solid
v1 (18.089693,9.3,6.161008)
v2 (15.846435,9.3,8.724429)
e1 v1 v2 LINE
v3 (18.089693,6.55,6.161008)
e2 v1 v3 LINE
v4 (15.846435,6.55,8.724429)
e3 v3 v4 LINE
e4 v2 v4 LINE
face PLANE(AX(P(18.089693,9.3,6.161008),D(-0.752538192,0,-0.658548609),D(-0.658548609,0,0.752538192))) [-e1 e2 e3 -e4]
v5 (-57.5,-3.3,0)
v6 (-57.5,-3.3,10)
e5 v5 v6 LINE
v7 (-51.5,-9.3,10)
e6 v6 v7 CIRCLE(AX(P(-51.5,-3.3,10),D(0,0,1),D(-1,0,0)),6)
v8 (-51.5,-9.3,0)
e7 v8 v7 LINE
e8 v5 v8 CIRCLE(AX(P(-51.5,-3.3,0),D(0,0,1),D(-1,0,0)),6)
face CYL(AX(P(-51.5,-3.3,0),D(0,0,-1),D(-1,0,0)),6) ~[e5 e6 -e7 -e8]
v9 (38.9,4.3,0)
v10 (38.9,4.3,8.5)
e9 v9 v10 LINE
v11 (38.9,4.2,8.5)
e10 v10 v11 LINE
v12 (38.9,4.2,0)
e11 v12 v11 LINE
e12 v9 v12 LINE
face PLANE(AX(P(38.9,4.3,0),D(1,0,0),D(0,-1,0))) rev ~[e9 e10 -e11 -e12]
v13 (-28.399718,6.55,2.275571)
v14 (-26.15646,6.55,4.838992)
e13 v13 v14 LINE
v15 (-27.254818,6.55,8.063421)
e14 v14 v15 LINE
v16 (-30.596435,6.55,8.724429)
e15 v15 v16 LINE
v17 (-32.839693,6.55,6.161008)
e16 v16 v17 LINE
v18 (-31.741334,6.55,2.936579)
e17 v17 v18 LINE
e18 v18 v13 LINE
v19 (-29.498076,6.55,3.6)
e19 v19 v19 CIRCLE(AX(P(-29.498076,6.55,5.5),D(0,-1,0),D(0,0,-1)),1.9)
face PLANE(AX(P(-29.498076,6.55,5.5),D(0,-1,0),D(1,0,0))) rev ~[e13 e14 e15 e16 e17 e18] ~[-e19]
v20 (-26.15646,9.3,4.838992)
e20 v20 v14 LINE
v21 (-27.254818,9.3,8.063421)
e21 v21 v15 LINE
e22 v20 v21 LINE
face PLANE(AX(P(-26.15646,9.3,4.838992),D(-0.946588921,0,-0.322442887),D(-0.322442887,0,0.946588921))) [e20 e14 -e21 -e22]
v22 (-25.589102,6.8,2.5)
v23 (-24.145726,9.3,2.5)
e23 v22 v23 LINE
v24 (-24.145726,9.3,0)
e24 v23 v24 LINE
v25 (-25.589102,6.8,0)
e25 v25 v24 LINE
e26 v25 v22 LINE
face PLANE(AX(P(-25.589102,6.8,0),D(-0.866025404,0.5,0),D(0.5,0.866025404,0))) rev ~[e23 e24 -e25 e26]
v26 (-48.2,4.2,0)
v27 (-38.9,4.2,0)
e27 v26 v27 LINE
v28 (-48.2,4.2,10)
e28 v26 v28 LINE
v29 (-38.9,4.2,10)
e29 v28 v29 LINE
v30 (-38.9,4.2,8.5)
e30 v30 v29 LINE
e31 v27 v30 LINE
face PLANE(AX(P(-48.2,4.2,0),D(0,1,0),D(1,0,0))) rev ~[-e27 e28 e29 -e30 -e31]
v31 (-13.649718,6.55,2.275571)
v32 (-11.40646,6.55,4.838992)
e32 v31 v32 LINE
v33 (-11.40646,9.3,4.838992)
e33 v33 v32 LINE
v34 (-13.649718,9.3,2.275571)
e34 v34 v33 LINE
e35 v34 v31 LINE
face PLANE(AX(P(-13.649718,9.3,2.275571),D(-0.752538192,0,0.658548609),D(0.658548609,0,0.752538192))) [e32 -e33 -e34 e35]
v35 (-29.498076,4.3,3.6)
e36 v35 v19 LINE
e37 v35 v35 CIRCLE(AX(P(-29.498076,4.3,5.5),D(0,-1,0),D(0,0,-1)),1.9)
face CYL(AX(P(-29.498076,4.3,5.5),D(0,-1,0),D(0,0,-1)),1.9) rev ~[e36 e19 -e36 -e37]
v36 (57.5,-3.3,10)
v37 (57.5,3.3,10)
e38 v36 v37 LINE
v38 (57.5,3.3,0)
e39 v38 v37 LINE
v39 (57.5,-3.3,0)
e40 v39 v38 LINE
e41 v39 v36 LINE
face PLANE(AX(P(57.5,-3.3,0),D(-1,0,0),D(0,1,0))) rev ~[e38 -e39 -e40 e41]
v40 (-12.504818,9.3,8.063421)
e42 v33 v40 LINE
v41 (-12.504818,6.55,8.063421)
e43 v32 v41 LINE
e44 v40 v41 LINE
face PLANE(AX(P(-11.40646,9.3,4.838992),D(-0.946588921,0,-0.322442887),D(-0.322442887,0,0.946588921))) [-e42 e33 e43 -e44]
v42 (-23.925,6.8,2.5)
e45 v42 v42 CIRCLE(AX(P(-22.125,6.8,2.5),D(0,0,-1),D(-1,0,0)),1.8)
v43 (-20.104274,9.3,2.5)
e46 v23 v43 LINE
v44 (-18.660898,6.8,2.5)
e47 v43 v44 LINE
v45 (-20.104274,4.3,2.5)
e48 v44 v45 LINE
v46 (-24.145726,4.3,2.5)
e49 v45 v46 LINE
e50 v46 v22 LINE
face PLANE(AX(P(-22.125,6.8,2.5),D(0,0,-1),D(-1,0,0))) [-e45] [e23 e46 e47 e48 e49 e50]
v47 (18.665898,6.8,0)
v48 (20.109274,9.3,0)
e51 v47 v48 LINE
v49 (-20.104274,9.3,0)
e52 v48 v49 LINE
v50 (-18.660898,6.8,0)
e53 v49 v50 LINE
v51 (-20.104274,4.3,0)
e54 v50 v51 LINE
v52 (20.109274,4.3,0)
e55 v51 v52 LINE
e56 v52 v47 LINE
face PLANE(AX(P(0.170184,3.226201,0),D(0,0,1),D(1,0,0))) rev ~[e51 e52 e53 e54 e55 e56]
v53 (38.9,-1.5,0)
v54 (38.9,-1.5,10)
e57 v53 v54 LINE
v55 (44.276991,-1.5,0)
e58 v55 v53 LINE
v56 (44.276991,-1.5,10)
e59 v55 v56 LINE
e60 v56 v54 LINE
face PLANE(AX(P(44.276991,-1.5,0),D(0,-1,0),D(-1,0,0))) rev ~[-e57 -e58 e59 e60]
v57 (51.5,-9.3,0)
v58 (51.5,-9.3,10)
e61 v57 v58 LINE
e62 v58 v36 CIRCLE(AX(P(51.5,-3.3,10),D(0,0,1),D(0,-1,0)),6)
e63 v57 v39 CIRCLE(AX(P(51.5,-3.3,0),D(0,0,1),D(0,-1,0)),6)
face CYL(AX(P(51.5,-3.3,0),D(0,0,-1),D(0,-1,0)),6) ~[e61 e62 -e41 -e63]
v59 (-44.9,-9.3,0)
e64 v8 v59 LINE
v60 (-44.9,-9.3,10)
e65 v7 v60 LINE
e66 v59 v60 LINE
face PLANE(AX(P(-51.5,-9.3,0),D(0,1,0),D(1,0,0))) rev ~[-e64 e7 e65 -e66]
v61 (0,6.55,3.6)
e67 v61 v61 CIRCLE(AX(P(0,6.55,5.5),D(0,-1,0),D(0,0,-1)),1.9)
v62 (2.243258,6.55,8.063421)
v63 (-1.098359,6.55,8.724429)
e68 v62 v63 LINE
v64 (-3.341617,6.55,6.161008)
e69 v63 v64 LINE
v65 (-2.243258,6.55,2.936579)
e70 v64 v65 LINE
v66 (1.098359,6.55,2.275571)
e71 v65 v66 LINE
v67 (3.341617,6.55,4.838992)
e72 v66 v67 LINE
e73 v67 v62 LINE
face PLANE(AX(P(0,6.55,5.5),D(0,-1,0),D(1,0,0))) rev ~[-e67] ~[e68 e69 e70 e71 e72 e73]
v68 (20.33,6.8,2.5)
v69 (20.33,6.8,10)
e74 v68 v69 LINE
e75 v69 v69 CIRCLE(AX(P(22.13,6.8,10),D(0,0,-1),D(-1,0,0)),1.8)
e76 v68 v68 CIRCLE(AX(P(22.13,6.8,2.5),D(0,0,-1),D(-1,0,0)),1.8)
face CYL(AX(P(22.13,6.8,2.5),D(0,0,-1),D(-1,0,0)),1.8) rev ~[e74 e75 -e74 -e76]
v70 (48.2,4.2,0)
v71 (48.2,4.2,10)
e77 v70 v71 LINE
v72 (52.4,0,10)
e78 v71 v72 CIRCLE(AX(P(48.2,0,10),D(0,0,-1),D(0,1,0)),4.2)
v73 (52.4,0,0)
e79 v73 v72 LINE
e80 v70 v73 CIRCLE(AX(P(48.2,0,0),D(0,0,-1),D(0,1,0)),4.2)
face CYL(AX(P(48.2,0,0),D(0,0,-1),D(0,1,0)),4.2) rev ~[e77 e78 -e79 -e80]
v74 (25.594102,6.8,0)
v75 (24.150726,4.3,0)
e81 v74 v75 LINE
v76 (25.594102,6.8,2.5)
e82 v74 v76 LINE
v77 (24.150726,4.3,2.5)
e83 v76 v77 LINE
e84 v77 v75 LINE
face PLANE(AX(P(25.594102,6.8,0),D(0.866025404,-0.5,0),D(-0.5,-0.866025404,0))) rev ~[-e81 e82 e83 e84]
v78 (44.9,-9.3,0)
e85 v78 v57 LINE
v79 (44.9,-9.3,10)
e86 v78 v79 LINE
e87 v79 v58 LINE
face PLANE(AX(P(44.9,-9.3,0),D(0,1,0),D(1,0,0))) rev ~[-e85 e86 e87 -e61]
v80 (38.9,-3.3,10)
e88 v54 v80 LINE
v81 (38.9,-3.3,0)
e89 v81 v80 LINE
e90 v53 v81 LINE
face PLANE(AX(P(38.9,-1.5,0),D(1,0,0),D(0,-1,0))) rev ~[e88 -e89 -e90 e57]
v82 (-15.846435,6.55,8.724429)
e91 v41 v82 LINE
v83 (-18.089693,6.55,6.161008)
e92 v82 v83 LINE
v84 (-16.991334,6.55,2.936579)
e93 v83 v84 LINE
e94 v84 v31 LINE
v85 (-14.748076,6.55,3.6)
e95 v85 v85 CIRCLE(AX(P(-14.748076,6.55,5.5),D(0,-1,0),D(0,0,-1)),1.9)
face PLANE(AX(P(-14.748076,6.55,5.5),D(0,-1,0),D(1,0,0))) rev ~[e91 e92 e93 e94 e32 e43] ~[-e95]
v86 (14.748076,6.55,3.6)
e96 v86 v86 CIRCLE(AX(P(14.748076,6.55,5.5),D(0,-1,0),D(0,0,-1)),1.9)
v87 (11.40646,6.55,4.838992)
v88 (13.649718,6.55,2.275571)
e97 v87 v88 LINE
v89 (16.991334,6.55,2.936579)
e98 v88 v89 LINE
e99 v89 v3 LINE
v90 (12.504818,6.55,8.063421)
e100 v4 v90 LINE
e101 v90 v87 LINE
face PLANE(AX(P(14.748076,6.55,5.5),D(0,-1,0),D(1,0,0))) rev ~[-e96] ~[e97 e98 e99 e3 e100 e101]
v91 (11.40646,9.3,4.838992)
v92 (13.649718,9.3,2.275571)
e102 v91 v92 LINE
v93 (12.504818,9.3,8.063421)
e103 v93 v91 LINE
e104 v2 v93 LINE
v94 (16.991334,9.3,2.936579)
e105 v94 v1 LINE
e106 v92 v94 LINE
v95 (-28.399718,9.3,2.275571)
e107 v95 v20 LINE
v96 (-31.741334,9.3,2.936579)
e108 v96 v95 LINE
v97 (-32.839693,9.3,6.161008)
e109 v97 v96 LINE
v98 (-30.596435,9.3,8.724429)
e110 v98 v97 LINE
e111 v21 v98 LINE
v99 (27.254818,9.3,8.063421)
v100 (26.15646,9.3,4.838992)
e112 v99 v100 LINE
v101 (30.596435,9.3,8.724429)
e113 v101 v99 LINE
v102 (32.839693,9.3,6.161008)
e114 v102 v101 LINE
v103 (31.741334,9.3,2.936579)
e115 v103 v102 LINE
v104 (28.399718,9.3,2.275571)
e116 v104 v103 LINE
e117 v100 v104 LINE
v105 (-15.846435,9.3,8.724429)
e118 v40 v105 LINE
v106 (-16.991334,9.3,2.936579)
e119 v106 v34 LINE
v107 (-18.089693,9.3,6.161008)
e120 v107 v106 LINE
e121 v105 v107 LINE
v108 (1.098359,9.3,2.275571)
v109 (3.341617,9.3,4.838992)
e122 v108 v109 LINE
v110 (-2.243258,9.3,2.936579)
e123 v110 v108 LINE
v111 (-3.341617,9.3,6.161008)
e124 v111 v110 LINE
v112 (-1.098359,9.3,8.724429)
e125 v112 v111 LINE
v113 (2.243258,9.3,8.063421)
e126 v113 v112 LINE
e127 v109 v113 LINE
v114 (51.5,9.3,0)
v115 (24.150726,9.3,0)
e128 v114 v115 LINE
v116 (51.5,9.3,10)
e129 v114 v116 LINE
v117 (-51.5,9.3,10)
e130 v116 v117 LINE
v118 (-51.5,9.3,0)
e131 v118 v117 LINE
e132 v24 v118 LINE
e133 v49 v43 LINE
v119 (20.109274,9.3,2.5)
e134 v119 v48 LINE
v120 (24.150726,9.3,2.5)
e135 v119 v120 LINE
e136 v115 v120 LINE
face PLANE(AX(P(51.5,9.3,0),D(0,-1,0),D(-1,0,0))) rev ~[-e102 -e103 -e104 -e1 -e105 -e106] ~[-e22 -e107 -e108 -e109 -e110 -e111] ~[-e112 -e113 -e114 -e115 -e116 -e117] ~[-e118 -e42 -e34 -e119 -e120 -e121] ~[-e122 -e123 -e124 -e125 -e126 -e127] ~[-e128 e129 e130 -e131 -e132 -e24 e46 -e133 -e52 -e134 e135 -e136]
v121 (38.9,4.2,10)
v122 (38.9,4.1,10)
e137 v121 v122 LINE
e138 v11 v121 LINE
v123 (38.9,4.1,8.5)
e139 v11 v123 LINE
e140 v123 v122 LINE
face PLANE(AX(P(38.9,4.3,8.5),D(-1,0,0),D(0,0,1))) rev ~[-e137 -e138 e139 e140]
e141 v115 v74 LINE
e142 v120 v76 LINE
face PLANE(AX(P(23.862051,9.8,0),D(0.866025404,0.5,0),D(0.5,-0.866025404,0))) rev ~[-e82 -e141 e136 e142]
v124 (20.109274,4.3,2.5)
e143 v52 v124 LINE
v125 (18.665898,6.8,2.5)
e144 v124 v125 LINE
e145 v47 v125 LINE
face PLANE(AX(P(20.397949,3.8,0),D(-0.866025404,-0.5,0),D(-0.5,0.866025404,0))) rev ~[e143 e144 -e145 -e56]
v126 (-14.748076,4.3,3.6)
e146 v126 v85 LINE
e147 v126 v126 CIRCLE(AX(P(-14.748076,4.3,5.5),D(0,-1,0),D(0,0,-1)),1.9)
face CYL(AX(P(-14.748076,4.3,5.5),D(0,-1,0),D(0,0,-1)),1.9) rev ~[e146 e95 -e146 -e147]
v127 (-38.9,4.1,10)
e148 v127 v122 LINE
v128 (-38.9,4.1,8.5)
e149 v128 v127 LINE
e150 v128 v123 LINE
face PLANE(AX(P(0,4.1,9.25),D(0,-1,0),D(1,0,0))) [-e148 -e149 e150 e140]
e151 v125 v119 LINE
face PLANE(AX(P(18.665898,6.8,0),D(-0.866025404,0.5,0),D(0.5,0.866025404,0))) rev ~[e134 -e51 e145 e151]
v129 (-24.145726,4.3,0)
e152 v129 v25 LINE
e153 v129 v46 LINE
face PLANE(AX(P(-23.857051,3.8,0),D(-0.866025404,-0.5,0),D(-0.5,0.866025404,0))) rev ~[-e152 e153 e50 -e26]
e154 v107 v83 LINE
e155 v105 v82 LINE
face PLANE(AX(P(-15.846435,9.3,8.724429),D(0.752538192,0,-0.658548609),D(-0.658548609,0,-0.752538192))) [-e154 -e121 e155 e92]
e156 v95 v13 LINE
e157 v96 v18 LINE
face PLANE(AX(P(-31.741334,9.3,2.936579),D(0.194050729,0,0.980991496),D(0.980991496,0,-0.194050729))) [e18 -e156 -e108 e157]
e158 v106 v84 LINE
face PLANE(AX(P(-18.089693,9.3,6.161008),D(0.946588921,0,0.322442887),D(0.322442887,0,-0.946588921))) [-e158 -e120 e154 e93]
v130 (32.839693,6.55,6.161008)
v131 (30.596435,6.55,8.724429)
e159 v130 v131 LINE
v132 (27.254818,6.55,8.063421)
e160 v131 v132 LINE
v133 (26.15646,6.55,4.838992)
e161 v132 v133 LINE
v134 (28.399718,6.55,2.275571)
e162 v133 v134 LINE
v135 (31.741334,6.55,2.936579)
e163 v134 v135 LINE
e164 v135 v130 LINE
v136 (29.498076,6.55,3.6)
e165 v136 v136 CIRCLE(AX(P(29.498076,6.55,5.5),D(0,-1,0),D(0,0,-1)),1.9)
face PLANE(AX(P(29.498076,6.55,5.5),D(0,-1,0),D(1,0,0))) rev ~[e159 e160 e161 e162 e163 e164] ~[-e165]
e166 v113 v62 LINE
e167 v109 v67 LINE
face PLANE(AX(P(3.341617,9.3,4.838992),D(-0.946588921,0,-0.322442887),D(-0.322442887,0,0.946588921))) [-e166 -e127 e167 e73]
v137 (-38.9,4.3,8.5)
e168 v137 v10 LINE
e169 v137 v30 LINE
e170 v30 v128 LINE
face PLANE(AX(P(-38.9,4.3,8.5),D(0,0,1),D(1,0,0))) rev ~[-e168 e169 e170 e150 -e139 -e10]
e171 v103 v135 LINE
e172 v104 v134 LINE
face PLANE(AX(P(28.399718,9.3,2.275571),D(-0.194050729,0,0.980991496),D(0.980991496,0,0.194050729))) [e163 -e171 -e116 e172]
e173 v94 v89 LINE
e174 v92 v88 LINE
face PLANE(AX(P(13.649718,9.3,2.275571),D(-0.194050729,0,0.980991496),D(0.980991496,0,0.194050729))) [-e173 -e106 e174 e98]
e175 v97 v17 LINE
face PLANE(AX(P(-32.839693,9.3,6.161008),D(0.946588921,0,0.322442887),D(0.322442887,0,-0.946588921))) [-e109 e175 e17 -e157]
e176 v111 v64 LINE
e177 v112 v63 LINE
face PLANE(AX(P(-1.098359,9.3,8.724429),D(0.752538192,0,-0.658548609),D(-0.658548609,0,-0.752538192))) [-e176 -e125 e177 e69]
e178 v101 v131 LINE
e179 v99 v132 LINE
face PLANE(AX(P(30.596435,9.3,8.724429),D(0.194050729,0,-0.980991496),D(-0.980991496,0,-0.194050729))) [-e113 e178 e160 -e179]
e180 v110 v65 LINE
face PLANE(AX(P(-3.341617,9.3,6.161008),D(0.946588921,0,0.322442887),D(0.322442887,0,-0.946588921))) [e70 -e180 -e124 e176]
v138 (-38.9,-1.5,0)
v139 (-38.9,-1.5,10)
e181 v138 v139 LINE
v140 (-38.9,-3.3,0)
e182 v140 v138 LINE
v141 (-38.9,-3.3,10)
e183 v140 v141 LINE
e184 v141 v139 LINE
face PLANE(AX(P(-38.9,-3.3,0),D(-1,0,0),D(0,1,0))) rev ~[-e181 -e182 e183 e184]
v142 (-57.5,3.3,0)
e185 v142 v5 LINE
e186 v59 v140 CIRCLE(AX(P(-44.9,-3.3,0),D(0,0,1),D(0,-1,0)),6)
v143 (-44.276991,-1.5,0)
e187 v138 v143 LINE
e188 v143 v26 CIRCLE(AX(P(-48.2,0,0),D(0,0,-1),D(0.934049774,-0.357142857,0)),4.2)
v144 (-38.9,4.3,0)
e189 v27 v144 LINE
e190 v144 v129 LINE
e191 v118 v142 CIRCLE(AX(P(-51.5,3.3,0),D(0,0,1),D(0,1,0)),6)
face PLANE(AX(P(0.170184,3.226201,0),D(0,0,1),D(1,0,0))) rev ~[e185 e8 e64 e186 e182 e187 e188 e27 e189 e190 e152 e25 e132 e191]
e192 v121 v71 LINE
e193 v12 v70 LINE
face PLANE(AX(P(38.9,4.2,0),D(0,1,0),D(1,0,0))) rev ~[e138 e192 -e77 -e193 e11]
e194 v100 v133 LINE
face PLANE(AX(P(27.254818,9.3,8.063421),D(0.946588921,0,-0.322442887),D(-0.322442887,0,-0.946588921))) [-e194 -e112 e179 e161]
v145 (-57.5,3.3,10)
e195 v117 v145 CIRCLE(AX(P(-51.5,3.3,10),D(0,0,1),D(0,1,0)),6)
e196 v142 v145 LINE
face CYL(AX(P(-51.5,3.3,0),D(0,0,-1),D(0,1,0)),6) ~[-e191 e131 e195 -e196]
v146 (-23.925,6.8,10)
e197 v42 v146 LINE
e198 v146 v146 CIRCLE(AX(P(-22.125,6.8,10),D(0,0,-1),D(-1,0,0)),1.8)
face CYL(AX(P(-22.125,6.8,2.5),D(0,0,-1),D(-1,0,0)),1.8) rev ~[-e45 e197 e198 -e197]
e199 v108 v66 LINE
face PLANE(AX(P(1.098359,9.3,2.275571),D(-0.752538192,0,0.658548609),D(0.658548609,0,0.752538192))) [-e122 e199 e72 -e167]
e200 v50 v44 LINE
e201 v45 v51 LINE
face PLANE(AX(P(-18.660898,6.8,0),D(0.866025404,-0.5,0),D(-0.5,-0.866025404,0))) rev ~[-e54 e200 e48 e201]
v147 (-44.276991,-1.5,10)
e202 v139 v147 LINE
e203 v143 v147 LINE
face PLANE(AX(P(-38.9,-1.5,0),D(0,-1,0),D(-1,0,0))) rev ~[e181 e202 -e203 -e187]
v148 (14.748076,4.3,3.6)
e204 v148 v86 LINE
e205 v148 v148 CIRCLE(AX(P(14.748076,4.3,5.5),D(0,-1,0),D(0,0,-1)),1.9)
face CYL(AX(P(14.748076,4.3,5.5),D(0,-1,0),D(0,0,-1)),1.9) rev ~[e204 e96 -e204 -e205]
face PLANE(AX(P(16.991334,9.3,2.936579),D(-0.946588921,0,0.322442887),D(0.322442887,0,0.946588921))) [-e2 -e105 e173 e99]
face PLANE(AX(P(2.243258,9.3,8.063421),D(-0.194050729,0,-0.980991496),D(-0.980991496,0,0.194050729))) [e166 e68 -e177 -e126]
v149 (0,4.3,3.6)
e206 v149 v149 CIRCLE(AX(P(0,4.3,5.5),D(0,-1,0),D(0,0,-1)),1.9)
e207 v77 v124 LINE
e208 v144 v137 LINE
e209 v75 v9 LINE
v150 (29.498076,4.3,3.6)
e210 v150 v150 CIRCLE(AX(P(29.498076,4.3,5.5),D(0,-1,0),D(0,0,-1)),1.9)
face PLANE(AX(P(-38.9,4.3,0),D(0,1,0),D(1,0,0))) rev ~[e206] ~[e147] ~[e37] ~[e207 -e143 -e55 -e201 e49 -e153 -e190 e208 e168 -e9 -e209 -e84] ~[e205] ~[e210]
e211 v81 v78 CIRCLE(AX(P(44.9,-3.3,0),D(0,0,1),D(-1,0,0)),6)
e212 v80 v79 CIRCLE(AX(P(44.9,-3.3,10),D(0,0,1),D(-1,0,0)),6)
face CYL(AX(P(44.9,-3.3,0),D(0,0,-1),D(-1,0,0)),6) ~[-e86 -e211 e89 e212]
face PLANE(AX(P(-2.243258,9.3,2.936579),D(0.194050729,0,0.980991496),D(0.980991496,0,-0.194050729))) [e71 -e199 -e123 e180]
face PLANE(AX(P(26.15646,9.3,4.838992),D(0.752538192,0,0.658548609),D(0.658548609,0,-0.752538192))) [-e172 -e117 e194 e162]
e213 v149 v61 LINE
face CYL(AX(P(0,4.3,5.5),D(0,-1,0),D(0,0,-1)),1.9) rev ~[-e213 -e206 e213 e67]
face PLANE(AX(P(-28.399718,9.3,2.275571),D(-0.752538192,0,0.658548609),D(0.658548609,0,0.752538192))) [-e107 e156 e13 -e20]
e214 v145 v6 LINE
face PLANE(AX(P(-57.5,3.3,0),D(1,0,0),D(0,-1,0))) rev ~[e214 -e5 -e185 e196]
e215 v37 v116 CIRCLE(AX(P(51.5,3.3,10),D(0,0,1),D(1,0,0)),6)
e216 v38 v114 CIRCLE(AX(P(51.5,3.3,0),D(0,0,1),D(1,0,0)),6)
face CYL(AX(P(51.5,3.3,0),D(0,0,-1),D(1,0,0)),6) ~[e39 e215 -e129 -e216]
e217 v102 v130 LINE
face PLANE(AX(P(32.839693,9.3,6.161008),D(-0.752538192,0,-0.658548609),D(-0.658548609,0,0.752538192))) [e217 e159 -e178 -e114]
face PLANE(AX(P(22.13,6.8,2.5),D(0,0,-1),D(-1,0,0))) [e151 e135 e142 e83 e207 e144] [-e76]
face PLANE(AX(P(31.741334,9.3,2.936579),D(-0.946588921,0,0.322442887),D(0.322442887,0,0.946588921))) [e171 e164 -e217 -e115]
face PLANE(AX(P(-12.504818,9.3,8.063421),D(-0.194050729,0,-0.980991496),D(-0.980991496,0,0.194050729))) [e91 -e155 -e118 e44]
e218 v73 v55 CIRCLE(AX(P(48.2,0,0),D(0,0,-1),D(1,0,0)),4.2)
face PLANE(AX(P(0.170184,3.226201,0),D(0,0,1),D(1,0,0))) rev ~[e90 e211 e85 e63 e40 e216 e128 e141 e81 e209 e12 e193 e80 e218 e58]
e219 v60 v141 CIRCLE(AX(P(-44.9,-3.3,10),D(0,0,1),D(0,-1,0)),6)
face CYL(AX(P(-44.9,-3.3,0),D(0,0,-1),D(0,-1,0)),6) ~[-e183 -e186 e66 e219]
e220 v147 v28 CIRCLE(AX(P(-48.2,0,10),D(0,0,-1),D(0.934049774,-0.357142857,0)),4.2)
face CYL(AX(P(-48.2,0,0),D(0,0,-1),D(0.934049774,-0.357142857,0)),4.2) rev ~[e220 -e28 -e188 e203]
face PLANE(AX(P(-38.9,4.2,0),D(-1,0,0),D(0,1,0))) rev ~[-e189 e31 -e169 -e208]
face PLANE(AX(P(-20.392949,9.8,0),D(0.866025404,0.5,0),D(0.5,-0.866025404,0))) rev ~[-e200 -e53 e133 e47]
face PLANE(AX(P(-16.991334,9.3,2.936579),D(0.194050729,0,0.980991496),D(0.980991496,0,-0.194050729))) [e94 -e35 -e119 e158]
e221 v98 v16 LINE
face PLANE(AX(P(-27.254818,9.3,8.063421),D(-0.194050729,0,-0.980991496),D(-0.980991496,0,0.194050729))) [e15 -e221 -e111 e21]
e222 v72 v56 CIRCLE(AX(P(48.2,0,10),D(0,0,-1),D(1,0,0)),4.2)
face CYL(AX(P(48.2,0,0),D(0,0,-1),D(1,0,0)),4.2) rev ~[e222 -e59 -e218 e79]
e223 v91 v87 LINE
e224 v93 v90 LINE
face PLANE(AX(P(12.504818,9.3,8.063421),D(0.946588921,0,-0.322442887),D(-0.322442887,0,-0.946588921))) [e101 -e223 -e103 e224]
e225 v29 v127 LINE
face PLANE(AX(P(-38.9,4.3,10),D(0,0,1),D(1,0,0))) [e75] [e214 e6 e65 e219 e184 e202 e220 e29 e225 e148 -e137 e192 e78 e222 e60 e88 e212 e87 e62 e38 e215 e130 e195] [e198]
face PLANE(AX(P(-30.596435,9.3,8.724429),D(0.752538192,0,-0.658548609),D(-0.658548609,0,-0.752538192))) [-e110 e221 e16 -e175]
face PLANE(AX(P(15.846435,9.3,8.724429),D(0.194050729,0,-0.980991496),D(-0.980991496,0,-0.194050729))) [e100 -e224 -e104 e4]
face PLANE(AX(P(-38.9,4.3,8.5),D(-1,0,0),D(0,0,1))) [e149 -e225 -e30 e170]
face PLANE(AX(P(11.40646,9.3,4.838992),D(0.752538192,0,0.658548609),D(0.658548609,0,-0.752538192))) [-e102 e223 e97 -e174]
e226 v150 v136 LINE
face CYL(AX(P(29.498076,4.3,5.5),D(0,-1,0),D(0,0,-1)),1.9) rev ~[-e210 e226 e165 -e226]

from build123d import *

# Parameters (mm, degrees)
SALIENTE_EXTRUIR1_DEPTH = 10
CROQUIS9_R              = 1.9
CORTAR_EXTRUIR5_DEPTH   = 60.926705232
CORTAR_EXTRUIR6_DEPTH   = 2.75
CROQUIS11_W             = 77.8
CROQUIS11_H             = 1.5
SALIENTE_EXTRUIR2_DEPTH = 0.2
CORTAR_EXTRUIR7_DEPTH   = 2.5
CROQUIS13_R             = 1.8
CORTAR_EXTRUIR8_DEPTH   = 59.728102302


with BuildPart() as part:
    # Croquis1 → Saliente-Extruir1 (new body)
    with BuildSketch(Plane.XY):
        with BuildLine():
            Line((51.5, 9.3), (-51.5, 9.3))
            ThreePointArc((-51.5, 9.3), (-55.742640687, 7.542640687), (-57.5, 3.3))
            Line((-57.5, 3.3), (-57.5, -3.3))
            ThreePointArc((-57.5, -3.3), (-55.742640687, -7.542640687), (-51.5, -9.3))
            Line((-51.5, -9.3), (-44.9, -9.3))
            ThreePointArc((-44.9, -9.3), (-40.657359313, -7.542640687), (-38.9, -3.3))
            Line((-38.9, -3.3), (-38.9, -1.5))
            Line((-38.9, -1.5), (-44.276990951, -1.5))
            ThreePointArc((-44.276990951, -1.5), (-51.659768778, -2.38117618), (-48.2, 4.2))
            Line((-48.2, 4.2), (-38.9, 4.2))
            Line((-38.9, 4.2), (-38.9, 4.3))
            Line((-38.9, 4.3), (38.9, 4.3))
            Line((38.9, 4.3), (38.9, 4.2))
            Line((38.9, 4.2), (48.2, 4.2))
            ThreePointArc((48.2, 4.2), (51.169848481, 2.969848481), (52.4, 0))
            ThreePointArc((52.4, 0), (48.96268014, -4.130171789), (44.276990951, -1.5))
            Line((44.276990951, -1.5), (38.9, -1.5))
            Line((38.9, -1.5), (38.9, -3.3))
            ThreePointArc((38.9, -3.3), (40.657359313, -7.542640687), (44.9, -9.3))
            Line((44.9, -9.3), (51.5, -9.3))
            ThreePointArc((51.5, -9.3), (55.742640687, -7.542640687), (57.5, -3.3))
            Line((57.5, -3.3), (57.5, 3.3))
            ThreePointArc((57.5, 3.3), (55.742640687, 7.542640687), (51.5, 9.3))
        make_face()
    extrude(amount=SALIENTE_EXTRUIR1_DEPTH)

    # Croquis9 → Cortar-Extruir5 (cut, through all)
    with BuildSketch(Plane(origin=(0, 4.3, 0), x_dir=(-1, 0, 0), z_dir=(0, -1, 0))):
        with Locations(Location((0, -5.5, 0), (0, 0, 90))):
            Circle(CROQUIS9_R)
        with Locations(Location((-29.498076211, -5.5, 0), (0, 0, 90))):
            Circle(CROQUIS9_R)
        with Locations(Location((-14.748076211, -5.5, 0), (0, 0, 90))):
            Circle(CROQUIS9_R)
        with Locations(Location((14.748076211, -5.5, 0), (0, 0, 90))):
            Circle(CROQUIS9_R)
        with Locations(Location((29.498076211, -5.5, 0), (0, 0, 90))):
            Circle(CROQUIS9_R)
    extrude(amount=-CORTAR_EXTRUIR5_DEPTH, mode=Mode.SUBTRACT)

    # Croquis10 → Cortar-Extruir6 (cut)
    with BuildSketch(Plane.XZ.offset(-9.3)):
        Polygon((1.098358677, 2.275571128), (3.341616654, 4.838992081), (2.243257977, 8.063420953), (-1.098358677, 8.724428872), (-3.341616654, 6.161007919), (-2.243257977, 2.936579047), align=None)
        Polygon((13.649717534, 2.275571128), (16.991334188, 2.936579047), (18.089692866, 6.161007919), (15.846434889, 8.724428872), (12.504818234, 8.063420953), (11.406459557, 4.838992081), align=None)
        Polygon((28.399717534, 2.275571128), (31.741334188, 2.936579047), (32.839692866, 6.161007919), (30.596434889, 8.724428872), (27.254818234, 8.063420953), (26.156459557, 4.838992081), align=None)
        Polygon((-13.649717534, 2.275571128), (-11.406459557, 4.838992081), (-12.504818234, 8.063420953), (-15.846434889, 8.724428872), (-18.089692866, 6.161007919), (-16.991334188, 2.936579047), align=None)
        Polygon((-28.399717534, 2.275571128), (-26.156459557, 4.838992081), (-27.254818234, 8.063420953), (-30.596434889, 8.724428872), (-32.839692866, 6.161007919), (-31.741334188, 2.936579047), align=None)
    extrude(amount=CORTAR_EXTRUIR6_DEPTH, mode=Mode.SUBTRACT)

    # Croquis11 → Saliente-Extruir2 (add)
    with BuildSketch(Plane.XZ.offset(-4.3)):
        with Locations((0, 9.25)):
            Rectangle(CROQUIS11_W, CROQUIS11_H)
    extrude(amount=SALIENTE_EXTRUIR2_DEPTH)

    # Croquis12 → Cortar-Extruir7 (cut)
    with BuildSketch(Plane(origin=(0, 0, 0), x_dir=(-1, 0, 0), z_dir=(0, 0, -1))):
        Polygon((25.589101615, 6.8), (23.857050808, 9.8), (20.392949192, 9.8), (18.660898385, 6.8), (20.392949192, 3.8), (23.857050808, 3.8), align=None)
        Polygon((-18.665898385, 6.8), (-20.397949192, 9.8), (-23.862050808, 9.8), (-25.594101615, 6.8), (-23.862050808, 3.8), (-20.397949192, 3.8), align=None)
    extrude(amount=-CORTAR_EXTRUIR7_DEPTH, mode=Mode.SUBTRACT)

    # Croquis13 → Cortar-Extruir8 (cut, through all)
    with BuildSketch(Plane(origin=(0, 0, 2.5), x_dir=(-1, 0, 0), z_dir=(0, 0, -1))):
        with Locations((22.125, 6.8)):
            Circle(CROQUIS13_R)
        with Locations((-22.13, 6.8)):
            Circle(CROQUIS13_R)
    extrude(amount=-CORTAR_EXTRUIR8_DEPTH, mode=Mode.SUBTRACT)


solid = part.part
